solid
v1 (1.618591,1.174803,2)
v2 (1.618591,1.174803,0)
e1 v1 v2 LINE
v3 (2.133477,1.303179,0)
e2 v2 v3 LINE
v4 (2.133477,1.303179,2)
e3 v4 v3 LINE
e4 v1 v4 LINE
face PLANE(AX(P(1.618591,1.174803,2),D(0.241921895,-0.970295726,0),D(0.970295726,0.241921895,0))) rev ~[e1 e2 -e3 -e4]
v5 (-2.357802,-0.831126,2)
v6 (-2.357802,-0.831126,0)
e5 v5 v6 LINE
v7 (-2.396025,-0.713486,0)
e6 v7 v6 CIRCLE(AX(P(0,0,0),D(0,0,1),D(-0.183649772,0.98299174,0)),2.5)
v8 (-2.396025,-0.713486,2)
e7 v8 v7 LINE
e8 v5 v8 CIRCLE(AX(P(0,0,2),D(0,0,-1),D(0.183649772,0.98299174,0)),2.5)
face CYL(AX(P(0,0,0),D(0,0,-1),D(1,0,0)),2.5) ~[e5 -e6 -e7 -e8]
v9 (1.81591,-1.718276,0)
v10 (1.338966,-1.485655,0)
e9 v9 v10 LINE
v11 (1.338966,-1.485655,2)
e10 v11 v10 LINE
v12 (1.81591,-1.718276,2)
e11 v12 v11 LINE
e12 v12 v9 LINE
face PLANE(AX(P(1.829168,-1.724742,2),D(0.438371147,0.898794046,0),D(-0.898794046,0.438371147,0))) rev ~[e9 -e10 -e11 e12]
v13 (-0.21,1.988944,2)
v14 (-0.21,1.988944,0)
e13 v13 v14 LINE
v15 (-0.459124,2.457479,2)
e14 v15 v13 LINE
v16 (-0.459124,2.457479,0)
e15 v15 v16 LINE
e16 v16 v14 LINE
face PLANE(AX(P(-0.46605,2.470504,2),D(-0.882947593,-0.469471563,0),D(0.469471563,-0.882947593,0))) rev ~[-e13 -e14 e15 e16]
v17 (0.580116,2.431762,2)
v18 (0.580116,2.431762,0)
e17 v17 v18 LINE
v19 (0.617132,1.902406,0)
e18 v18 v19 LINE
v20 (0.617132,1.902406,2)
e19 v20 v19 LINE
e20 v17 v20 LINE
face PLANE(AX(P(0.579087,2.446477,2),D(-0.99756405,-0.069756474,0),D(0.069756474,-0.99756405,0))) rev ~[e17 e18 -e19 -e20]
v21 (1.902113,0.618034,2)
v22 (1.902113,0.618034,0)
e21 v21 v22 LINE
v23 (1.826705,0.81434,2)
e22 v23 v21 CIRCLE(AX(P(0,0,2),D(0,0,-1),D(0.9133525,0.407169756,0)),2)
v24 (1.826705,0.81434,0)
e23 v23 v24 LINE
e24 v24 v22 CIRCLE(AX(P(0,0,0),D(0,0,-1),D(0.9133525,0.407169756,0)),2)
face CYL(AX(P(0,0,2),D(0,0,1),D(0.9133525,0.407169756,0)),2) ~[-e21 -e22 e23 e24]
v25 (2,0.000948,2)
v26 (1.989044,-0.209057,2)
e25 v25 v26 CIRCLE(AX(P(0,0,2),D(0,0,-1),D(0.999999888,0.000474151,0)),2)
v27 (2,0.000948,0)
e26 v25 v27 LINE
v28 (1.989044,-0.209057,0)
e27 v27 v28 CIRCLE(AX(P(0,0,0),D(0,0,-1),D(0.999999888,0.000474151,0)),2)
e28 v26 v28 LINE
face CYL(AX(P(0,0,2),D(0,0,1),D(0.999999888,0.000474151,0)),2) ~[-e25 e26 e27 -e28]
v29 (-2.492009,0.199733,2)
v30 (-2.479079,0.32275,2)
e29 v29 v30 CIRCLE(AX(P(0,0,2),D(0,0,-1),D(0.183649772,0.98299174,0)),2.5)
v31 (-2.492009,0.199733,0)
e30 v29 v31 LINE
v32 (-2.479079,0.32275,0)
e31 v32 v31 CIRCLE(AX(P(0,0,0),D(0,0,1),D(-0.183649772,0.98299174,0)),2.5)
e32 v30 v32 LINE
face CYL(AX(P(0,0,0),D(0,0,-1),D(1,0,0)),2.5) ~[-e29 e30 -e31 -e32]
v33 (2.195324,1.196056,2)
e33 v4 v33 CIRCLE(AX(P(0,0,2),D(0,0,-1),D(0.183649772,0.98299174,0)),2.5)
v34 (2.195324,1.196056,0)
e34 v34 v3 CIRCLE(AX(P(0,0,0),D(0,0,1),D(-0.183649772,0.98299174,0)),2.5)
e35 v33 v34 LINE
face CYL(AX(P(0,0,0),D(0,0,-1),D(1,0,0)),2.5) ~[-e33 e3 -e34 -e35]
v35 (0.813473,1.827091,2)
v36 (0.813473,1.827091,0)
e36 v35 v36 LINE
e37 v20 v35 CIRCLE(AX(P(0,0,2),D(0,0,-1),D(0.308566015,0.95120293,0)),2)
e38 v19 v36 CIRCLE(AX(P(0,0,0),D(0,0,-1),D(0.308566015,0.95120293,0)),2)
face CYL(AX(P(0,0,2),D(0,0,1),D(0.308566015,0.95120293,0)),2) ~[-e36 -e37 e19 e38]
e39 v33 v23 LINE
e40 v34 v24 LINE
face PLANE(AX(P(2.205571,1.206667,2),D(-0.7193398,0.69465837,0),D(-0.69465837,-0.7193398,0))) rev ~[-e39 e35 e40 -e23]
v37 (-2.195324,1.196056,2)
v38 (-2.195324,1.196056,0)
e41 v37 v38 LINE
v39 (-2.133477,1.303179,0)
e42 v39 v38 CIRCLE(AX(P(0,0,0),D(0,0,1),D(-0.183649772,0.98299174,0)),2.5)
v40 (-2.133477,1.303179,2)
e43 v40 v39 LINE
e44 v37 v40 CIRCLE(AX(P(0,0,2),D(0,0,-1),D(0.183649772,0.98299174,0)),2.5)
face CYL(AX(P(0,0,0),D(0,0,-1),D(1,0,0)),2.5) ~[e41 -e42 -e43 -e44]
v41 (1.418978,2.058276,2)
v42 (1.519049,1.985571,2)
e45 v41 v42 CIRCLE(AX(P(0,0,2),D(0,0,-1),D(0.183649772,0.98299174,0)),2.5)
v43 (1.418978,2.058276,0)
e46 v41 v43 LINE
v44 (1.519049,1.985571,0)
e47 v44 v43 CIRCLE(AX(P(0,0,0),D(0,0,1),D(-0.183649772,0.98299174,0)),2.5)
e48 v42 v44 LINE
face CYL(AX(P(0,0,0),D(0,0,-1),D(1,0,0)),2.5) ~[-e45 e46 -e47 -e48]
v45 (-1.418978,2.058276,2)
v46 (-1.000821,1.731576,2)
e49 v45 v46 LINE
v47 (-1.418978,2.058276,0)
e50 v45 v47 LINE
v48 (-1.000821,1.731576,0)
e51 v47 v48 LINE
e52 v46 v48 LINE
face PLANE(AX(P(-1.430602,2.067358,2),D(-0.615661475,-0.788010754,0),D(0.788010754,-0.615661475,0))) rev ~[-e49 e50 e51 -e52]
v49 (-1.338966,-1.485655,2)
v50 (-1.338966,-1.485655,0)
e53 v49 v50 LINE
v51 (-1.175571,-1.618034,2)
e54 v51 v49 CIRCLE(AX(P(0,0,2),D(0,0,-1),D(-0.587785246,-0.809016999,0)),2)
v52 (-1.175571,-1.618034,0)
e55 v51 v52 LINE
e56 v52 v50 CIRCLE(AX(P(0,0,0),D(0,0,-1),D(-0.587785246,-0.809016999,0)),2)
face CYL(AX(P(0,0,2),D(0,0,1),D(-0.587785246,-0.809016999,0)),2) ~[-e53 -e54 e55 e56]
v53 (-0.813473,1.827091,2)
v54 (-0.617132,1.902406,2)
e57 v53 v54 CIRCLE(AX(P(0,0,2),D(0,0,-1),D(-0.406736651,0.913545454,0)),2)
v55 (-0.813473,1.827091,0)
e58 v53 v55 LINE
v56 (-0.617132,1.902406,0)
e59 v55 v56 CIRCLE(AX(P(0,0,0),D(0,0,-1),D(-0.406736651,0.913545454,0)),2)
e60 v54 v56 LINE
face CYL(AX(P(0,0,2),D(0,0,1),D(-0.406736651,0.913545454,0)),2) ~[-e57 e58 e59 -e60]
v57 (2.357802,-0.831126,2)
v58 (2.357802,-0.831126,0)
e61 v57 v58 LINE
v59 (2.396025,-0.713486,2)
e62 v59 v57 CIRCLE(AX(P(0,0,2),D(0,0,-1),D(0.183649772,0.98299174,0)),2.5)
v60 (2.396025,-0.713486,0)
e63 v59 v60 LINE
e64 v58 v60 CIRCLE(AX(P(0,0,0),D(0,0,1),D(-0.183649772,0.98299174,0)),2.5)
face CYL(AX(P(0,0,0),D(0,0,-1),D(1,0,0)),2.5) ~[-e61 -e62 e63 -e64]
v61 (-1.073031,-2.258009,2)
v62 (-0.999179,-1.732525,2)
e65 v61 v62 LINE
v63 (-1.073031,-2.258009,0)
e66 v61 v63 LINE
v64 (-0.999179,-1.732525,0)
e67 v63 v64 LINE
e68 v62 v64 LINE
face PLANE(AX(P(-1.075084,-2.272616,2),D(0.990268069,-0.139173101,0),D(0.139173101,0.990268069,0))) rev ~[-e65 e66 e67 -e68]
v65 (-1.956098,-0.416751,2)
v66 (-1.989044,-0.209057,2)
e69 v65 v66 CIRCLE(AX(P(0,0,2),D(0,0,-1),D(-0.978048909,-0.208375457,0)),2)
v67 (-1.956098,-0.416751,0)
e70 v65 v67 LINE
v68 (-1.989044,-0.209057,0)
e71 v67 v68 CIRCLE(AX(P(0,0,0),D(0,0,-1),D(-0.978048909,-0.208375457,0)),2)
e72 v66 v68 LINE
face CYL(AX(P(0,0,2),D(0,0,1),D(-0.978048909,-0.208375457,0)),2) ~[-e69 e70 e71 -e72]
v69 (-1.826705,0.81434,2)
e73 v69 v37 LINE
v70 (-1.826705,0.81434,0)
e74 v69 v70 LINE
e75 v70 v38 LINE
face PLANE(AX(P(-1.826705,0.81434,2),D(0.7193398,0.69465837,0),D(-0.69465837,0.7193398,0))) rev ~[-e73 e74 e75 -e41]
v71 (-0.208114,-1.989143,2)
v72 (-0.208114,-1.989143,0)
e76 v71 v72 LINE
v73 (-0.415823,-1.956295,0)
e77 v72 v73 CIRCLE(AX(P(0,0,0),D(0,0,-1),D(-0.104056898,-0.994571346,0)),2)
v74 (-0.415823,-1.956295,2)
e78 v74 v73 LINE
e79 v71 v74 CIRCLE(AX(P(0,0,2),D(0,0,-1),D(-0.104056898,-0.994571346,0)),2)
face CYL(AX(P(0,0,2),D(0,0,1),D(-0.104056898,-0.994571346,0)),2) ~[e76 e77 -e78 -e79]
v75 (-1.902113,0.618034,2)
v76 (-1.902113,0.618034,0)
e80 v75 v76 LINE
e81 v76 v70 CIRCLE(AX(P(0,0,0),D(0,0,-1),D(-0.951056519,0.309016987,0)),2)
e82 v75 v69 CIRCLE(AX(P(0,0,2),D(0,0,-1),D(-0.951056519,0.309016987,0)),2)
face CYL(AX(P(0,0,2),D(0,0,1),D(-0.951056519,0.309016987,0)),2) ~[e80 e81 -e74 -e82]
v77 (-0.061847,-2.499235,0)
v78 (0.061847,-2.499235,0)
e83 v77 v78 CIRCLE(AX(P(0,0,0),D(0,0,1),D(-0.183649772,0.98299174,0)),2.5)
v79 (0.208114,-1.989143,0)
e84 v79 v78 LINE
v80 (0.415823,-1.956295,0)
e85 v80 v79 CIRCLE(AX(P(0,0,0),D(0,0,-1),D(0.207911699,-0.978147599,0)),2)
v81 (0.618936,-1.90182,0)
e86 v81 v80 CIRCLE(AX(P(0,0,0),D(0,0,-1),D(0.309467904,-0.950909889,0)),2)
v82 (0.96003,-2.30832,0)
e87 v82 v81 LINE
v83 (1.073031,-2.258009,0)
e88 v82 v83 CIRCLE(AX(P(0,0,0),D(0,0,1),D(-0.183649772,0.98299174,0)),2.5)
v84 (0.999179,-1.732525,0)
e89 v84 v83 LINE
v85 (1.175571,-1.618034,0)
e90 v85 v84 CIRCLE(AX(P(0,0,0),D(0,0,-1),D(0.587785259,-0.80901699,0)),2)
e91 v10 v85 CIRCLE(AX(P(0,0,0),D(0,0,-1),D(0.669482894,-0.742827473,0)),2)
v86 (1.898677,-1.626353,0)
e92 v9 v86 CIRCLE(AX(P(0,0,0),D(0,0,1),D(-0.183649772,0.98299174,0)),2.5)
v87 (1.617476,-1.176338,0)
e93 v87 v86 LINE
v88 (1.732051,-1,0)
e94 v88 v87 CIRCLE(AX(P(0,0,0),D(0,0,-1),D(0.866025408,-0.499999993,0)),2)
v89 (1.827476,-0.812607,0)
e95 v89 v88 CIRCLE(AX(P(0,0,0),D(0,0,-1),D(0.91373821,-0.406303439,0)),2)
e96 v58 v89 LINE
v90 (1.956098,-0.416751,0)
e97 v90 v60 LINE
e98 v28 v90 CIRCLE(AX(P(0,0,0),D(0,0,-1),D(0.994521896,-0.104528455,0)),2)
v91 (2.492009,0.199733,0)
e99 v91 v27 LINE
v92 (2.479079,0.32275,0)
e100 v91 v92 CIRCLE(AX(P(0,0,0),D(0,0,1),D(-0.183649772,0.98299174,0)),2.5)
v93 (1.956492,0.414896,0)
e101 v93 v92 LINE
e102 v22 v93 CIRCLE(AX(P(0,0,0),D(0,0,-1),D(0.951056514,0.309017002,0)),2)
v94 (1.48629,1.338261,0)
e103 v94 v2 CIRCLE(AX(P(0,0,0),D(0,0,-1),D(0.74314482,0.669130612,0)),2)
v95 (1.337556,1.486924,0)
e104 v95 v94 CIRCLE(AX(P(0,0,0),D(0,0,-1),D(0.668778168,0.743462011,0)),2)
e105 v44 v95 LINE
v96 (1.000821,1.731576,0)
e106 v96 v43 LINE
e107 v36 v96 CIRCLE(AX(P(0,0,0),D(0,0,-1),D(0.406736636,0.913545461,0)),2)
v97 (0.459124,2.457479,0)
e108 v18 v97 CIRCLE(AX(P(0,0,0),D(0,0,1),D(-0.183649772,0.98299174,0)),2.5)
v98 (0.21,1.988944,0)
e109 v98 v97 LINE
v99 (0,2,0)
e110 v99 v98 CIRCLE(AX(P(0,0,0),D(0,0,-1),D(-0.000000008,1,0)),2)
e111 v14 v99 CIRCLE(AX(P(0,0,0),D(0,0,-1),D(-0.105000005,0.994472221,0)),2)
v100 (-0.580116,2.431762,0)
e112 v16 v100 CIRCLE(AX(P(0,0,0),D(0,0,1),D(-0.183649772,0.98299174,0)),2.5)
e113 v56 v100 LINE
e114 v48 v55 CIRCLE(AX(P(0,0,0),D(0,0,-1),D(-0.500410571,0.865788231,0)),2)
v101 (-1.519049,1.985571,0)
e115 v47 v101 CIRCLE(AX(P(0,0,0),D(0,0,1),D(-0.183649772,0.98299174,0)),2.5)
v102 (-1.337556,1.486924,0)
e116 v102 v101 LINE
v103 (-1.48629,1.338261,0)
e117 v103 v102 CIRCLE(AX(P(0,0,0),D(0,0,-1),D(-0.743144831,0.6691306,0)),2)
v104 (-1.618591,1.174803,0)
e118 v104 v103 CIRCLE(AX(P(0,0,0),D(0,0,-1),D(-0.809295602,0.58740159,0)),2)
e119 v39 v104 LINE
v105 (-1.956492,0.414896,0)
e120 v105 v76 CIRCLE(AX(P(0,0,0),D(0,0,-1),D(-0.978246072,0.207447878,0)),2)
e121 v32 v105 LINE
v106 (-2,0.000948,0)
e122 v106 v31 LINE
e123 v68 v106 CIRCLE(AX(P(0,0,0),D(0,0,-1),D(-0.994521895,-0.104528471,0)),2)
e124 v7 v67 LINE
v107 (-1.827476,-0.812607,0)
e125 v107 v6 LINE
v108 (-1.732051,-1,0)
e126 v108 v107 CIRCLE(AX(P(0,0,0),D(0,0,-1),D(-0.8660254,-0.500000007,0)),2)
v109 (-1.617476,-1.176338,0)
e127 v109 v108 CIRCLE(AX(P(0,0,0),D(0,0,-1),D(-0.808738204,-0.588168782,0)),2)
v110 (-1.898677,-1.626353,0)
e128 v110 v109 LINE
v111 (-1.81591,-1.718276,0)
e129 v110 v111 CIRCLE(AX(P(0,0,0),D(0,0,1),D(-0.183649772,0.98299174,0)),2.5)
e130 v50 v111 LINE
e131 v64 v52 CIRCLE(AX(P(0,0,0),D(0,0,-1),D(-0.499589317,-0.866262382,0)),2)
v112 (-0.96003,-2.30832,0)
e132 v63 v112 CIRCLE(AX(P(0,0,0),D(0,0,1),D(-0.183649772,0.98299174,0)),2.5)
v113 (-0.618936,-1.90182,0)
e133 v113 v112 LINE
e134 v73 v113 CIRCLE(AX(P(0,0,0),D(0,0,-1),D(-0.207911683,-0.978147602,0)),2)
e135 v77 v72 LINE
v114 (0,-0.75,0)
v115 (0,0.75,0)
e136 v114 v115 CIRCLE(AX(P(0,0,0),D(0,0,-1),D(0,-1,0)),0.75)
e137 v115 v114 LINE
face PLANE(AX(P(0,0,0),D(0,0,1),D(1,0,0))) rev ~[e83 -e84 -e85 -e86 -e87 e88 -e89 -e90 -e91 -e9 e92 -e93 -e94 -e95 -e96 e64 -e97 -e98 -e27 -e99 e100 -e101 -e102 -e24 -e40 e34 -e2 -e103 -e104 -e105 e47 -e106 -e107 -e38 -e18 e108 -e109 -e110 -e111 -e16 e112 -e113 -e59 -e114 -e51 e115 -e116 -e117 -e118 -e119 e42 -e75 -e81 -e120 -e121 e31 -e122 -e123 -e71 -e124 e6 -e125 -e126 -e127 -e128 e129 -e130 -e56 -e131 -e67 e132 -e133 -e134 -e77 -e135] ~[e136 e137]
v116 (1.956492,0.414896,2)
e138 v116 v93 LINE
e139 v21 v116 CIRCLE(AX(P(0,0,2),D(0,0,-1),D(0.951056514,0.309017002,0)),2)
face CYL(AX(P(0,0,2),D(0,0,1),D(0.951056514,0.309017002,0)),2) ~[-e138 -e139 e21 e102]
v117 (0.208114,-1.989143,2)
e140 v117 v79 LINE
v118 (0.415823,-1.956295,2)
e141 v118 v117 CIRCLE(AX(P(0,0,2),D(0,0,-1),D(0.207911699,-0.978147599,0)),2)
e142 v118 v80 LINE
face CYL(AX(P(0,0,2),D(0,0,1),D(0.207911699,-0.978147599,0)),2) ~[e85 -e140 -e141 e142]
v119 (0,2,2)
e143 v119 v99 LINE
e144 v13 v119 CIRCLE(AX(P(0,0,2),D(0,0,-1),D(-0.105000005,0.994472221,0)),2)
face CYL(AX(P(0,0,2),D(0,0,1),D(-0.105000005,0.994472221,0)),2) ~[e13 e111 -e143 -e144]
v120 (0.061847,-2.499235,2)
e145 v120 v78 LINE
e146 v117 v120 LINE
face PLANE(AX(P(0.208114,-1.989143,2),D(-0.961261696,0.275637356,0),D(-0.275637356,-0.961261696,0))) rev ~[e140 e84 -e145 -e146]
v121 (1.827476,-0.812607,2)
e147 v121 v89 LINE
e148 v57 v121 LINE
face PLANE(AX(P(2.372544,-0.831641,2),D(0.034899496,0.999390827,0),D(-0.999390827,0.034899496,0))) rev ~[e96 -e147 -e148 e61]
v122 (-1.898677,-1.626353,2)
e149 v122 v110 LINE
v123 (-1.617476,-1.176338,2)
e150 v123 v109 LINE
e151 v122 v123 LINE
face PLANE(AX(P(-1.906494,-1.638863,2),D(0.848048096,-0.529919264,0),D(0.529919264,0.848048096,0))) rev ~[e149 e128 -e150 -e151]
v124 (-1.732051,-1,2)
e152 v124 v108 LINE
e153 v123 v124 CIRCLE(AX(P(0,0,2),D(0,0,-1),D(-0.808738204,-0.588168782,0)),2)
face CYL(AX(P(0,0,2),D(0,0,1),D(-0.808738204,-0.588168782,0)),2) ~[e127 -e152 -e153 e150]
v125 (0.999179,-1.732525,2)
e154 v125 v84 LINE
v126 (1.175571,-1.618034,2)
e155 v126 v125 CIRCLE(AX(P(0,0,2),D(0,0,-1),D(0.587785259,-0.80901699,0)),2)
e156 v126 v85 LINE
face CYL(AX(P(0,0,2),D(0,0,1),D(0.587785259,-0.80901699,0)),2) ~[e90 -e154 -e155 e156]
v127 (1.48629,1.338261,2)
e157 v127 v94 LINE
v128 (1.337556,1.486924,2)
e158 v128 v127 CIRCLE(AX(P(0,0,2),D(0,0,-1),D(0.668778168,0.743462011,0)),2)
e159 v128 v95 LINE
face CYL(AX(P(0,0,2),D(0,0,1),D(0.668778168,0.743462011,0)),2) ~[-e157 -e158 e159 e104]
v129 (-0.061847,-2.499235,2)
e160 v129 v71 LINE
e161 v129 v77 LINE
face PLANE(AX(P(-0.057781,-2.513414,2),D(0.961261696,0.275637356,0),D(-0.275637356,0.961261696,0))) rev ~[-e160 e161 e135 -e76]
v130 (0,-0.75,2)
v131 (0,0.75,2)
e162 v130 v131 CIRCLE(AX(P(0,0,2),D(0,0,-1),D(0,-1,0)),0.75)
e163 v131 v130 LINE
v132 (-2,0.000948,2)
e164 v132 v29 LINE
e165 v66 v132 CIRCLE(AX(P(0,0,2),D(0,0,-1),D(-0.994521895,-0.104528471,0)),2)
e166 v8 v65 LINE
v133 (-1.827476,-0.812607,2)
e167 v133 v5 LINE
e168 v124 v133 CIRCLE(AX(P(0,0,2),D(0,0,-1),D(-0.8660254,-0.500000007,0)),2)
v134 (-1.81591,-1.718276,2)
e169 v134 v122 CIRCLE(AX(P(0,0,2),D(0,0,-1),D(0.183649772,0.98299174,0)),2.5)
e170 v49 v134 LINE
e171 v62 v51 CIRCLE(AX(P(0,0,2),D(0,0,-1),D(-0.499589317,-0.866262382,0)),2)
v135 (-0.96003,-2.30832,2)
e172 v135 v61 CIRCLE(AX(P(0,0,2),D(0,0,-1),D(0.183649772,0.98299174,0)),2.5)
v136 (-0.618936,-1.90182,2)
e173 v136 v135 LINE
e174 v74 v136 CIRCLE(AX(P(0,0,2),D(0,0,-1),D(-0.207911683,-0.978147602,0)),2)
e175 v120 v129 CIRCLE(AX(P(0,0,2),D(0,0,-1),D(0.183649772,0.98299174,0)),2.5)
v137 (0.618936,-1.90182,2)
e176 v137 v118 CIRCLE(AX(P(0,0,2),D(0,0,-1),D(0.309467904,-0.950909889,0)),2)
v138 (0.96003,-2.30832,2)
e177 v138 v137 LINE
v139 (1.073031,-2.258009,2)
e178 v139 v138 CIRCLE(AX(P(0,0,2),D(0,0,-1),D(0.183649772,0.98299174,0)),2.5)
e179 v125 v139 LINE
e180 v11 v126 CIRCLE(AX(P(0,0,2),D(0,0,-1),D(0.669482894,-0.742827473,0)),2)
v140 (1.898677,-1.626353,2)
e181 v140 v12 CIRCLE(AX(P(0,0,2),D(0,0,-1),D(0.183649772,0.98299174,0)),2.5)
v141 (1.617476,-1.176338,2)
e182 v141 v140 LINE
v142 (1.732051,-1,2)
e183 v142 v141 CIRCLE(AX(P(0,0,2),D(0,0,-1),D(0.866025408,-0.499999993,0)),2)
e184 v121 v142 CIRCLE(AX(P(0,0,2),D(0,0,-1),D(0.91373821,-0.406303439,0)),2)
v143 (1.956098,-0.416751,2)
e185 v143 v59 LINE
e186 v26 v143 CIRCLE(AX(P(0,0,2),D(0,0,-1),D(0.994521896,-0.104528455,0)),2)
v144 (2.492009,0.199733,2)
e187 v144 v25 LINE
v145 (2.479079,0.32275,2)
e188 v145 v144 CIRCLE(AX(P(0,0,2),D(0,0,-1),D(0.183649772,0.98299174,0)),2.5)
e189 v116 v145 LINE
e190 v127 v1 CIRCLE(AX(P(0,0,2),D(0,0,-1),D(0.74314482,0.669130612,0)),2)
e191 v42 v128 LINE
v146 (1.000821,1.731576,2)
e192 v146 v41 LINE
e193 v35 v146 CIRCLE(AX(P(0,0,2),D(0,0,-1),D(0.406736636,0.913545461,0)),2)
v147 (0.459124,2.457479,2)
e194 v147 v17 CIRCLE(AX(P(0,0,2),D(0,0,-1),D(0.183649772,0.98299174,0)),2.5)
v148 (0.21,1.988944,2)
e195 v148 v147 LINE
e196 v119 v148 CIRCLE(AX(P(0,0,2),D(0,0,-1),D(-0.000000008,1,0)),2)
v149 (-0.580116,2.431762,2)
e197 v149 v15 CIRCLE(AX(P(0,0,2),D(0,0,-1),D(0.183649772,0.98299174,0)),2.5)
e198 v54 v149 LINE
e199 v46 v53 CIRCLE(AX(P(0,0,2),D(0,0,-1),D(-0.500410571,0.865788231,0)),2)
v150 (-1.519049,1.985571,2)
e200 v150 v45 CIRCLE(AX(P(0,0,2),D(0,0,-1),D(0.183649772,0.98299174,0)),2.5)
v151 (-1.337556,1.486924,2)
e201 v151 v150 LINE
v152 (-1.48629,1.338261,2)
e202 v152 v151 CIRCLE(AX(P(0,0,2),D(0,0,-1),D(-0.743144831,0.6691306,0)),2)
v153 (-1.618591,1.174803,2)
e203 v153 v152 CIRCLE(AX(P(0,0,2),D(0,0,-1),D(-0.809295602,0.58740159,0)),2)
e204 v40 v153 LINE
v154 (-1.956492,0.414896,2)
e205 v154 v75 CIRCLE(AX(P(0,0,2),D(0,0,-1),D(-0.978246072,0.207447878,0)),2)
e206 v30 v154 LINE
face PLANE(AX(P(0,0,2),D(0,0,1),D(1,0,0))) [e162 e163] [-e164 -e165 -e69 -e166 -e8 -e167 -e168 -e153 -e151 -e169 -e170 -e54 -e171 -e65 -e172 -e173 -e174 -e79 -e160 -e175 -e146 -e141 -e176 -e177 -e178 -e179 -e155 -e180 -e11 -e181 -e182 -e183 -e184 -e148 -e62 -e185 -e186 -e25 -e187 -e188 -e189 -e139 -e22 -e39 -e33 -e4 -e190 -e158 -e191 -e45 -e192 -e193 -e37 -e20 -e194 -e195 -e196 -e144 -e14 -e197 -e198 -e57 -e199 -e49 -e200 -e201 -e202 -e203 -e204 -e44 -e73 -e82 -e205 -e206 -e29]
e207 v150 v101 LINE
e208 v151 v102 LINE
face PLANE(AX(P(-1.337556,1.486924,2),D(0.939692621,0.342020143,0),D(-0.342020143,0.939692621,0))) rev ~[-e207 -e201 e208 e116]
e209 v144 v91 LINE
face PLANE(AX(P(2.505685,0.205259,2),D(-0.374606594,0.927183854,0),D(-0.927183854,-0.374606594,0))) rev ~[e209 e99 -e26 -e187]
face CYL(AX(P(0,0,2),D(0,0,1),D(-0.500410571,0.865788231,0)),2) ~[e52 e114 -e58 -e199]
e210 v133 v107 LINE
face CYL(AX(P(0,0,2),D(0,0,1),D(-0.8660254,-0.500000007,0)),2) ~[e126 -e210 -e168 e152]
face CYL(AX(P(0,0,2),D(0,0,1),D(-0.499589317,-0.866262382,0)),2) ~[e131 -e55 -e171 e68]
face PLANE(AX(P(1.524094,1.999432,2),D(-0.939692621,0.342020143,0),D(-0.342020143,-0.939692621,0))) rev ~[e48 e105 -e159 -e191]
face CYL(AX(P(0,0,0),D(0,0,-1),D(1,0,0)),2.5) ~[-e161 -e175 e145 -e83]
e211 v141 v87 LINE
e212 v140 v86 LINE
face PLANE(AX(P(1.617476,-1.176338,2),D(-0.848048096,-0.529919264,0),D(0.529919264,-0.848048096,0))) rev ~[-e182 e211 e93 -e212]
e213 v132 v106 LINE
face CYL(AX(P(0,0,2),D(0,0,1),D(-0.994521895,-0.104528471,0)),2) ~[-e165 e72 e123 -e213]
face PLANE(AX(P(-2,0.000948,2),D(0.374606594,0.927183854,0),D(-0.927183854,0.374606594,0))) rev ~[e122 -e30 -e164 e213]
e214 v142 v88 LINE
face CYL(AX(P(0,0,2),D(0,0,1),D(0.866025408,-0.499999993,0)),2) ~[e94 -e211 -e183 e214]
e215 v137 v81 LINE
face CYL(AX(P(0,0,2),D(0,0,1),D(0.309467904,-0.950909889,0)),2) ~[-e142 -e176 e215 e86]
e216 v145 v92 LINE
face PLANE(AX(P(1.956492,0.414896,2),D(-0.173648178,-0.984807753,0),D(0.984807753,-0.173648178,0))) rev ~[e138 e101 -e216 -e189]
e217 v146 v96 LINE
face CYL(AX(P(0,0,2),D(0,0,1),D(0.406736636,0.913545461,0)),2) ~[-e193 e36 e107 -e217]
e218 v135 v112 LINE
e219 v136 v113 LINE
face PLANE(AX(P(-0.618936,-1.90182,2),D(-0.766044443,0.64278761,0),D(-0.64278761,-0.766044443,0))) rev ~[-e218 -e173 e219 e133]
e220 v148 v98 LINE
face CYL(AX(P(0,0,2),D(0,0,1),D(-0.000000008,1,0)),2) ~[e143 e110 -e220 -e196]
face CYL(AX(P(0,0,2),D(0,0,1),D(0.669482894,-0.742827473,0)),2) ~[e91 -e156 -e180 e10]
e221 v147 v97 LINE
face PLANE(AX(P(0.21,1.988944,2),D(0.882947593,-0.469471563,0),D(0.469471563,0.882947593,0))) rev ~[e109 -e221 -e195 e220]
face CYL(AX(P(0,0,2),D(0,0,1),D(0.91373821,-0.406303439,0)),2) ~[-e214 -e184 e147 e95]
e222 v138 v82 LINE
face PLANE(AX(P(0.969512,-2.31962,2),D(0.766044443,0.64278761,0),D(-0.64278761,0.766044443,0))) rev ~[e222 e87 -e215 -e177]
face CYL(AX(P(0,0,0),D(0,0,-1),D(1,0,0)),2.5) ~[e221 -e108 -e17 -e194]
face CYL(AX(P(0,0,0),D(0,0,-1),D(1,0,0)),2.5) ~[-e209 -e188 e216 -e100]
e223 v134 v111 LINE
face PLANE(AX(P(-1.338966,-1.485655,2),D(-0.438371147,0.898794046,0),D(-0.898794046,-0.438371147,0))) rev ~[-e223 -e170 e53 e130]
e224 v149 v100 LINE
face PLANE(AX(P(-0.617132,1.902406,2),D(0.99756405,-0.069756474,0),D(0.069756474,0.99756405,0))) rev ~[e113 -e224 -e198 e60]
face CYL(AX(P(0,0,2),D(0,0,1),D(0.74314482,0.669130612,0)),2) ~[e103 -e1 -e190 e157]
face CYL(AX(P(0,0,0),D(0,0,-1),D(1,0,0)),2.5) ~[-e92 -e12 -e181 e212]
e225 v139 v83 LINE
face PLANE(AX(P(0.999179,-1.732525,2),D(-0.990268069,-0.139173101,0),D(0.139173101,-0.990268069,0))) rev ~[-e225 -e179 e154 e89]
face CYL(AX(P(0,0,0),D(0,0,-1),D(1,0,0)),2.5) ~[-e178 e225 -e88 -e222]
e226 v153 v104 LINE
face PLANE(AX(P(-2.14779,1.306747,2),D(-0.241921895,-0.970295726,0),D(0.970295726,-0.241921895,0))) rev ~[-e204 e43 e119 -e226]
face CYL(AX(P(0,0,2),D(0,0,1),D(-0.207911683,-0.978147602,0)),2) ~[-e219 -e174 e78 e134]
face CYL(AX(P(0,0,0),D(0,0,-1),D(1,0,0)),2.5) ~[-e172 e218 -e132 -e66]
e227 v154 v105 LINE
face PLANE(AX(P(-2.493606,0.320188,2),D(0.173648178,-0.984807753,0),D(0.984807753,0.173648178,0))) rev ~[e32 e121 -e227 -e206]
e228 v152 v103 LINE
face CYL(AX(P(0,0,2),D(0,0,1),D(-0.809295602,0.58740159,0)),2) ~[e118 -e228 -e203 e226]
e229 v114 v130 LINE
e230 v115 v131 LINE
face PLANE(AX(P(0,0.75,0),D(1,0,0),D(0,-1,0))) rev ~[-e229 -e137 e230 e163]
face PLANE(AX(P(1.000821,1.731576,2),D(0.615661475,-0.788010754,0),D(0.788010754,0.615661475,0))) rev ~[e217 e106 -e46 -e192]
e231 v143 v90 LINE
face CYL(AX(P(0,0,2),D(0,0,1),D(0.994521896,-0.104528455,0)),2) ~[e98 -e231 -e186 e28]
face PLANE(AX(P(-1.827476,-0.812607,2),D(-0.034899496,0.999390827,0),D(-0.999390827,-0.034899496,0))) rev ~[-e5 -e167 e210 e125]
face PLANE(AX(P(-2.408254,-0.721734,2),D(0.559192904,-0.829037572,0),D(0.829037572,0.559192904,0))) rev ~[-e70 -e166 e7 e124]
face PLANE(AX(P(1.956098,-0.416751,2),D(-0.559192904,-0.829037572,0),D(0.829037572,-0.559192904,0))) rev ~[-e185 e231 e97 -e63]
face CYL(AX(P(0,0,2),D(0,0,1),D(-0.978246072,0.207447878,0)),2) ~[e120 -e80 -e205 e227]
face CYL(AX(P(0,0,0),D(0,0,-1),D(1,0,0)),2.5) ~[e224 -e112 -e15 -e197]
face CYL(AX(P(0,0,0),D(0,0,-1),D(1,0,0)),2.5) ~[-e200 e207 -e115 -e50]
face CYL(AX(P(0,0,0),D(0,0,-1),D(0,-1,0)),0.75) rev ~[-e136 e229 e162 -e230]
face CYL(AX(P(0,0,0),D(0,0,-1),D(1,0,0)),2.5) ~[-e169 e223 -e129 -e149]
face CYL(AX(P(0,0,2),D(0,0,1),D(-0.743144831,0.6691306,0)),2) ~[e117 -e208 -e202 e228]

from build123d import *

# Parameters (mm, degrees)
SKETCH1_R           = 2.5
BOSS_EXTRUDE1_DEPTH = 2
CUT_EXTRUDE2_DEPTH  = 2
CIRPATTERN2_COUNT   = 15


with BuildPart() as part:
    # Sketch1 → Boss-Extrude1 (new body)
    with BuildSketch(Plane.XY):
        Circle(SKETCH1_R)
        with BuildLine():
            Line((0, 0.75), (0, -0.75))
            ThreePointArc((0, -0.75), (-0.75, 0), (0, 0.75))
        make_face(mode=Mode.SUBTRACT)
    extrude(amount=BOSS_EXTRUDE1_DEPTH)

    # Sketch2 → Cut-Extrude2 (cut)
    with BuildSketch(Plane.XY.offset(2)):
        with BuildLine():
            ThreePointArc((-0.21, 1.988944444), (-0.105145406, 1.997234199), (0, 2))
            Line((0, 2), (0, 2.514078411))
            ThreePointArc((0, 2.514078411), (-0.2340411, 2.503161005), (-0.466049549, 2.470503607))
            Line((-0.466049549, 2.470503607), (-0.21, 1.988944444))
        make_face()
        with BuildLine():
            Line((0, 2.514078411), (0, 2))
            ThreePointArc((0, 2), (0.105145406, 1.997234199), (0.21, 1.988944444))
            Line((0.21, 1.988944444), (0.466049549, 2.470503607))
            ThreePointArc((0.466049549, 2.470503607), (0.2340411, 2.503161005), (0, 2.514078411))
        make_face()
    cut_extrude2 = extrude(amount=-CUT_EXTRUDE2_DEPTH, mode=Mode.SUBTRACT)

    # CirPattern2: Cut-Extrude2 ×15 about axis
    cirpattern2_axis = Axis((0, 0, 0), (0, 0, 1))
    for i in range(1, CIRPATTERN2_COUNT):
        add(cut_extrude2.rotate(cirpattern2_axis, i * 360 / CIRPATTERN2_COUNT), mode=Mode.SUBTRACT)


solid = part.part
